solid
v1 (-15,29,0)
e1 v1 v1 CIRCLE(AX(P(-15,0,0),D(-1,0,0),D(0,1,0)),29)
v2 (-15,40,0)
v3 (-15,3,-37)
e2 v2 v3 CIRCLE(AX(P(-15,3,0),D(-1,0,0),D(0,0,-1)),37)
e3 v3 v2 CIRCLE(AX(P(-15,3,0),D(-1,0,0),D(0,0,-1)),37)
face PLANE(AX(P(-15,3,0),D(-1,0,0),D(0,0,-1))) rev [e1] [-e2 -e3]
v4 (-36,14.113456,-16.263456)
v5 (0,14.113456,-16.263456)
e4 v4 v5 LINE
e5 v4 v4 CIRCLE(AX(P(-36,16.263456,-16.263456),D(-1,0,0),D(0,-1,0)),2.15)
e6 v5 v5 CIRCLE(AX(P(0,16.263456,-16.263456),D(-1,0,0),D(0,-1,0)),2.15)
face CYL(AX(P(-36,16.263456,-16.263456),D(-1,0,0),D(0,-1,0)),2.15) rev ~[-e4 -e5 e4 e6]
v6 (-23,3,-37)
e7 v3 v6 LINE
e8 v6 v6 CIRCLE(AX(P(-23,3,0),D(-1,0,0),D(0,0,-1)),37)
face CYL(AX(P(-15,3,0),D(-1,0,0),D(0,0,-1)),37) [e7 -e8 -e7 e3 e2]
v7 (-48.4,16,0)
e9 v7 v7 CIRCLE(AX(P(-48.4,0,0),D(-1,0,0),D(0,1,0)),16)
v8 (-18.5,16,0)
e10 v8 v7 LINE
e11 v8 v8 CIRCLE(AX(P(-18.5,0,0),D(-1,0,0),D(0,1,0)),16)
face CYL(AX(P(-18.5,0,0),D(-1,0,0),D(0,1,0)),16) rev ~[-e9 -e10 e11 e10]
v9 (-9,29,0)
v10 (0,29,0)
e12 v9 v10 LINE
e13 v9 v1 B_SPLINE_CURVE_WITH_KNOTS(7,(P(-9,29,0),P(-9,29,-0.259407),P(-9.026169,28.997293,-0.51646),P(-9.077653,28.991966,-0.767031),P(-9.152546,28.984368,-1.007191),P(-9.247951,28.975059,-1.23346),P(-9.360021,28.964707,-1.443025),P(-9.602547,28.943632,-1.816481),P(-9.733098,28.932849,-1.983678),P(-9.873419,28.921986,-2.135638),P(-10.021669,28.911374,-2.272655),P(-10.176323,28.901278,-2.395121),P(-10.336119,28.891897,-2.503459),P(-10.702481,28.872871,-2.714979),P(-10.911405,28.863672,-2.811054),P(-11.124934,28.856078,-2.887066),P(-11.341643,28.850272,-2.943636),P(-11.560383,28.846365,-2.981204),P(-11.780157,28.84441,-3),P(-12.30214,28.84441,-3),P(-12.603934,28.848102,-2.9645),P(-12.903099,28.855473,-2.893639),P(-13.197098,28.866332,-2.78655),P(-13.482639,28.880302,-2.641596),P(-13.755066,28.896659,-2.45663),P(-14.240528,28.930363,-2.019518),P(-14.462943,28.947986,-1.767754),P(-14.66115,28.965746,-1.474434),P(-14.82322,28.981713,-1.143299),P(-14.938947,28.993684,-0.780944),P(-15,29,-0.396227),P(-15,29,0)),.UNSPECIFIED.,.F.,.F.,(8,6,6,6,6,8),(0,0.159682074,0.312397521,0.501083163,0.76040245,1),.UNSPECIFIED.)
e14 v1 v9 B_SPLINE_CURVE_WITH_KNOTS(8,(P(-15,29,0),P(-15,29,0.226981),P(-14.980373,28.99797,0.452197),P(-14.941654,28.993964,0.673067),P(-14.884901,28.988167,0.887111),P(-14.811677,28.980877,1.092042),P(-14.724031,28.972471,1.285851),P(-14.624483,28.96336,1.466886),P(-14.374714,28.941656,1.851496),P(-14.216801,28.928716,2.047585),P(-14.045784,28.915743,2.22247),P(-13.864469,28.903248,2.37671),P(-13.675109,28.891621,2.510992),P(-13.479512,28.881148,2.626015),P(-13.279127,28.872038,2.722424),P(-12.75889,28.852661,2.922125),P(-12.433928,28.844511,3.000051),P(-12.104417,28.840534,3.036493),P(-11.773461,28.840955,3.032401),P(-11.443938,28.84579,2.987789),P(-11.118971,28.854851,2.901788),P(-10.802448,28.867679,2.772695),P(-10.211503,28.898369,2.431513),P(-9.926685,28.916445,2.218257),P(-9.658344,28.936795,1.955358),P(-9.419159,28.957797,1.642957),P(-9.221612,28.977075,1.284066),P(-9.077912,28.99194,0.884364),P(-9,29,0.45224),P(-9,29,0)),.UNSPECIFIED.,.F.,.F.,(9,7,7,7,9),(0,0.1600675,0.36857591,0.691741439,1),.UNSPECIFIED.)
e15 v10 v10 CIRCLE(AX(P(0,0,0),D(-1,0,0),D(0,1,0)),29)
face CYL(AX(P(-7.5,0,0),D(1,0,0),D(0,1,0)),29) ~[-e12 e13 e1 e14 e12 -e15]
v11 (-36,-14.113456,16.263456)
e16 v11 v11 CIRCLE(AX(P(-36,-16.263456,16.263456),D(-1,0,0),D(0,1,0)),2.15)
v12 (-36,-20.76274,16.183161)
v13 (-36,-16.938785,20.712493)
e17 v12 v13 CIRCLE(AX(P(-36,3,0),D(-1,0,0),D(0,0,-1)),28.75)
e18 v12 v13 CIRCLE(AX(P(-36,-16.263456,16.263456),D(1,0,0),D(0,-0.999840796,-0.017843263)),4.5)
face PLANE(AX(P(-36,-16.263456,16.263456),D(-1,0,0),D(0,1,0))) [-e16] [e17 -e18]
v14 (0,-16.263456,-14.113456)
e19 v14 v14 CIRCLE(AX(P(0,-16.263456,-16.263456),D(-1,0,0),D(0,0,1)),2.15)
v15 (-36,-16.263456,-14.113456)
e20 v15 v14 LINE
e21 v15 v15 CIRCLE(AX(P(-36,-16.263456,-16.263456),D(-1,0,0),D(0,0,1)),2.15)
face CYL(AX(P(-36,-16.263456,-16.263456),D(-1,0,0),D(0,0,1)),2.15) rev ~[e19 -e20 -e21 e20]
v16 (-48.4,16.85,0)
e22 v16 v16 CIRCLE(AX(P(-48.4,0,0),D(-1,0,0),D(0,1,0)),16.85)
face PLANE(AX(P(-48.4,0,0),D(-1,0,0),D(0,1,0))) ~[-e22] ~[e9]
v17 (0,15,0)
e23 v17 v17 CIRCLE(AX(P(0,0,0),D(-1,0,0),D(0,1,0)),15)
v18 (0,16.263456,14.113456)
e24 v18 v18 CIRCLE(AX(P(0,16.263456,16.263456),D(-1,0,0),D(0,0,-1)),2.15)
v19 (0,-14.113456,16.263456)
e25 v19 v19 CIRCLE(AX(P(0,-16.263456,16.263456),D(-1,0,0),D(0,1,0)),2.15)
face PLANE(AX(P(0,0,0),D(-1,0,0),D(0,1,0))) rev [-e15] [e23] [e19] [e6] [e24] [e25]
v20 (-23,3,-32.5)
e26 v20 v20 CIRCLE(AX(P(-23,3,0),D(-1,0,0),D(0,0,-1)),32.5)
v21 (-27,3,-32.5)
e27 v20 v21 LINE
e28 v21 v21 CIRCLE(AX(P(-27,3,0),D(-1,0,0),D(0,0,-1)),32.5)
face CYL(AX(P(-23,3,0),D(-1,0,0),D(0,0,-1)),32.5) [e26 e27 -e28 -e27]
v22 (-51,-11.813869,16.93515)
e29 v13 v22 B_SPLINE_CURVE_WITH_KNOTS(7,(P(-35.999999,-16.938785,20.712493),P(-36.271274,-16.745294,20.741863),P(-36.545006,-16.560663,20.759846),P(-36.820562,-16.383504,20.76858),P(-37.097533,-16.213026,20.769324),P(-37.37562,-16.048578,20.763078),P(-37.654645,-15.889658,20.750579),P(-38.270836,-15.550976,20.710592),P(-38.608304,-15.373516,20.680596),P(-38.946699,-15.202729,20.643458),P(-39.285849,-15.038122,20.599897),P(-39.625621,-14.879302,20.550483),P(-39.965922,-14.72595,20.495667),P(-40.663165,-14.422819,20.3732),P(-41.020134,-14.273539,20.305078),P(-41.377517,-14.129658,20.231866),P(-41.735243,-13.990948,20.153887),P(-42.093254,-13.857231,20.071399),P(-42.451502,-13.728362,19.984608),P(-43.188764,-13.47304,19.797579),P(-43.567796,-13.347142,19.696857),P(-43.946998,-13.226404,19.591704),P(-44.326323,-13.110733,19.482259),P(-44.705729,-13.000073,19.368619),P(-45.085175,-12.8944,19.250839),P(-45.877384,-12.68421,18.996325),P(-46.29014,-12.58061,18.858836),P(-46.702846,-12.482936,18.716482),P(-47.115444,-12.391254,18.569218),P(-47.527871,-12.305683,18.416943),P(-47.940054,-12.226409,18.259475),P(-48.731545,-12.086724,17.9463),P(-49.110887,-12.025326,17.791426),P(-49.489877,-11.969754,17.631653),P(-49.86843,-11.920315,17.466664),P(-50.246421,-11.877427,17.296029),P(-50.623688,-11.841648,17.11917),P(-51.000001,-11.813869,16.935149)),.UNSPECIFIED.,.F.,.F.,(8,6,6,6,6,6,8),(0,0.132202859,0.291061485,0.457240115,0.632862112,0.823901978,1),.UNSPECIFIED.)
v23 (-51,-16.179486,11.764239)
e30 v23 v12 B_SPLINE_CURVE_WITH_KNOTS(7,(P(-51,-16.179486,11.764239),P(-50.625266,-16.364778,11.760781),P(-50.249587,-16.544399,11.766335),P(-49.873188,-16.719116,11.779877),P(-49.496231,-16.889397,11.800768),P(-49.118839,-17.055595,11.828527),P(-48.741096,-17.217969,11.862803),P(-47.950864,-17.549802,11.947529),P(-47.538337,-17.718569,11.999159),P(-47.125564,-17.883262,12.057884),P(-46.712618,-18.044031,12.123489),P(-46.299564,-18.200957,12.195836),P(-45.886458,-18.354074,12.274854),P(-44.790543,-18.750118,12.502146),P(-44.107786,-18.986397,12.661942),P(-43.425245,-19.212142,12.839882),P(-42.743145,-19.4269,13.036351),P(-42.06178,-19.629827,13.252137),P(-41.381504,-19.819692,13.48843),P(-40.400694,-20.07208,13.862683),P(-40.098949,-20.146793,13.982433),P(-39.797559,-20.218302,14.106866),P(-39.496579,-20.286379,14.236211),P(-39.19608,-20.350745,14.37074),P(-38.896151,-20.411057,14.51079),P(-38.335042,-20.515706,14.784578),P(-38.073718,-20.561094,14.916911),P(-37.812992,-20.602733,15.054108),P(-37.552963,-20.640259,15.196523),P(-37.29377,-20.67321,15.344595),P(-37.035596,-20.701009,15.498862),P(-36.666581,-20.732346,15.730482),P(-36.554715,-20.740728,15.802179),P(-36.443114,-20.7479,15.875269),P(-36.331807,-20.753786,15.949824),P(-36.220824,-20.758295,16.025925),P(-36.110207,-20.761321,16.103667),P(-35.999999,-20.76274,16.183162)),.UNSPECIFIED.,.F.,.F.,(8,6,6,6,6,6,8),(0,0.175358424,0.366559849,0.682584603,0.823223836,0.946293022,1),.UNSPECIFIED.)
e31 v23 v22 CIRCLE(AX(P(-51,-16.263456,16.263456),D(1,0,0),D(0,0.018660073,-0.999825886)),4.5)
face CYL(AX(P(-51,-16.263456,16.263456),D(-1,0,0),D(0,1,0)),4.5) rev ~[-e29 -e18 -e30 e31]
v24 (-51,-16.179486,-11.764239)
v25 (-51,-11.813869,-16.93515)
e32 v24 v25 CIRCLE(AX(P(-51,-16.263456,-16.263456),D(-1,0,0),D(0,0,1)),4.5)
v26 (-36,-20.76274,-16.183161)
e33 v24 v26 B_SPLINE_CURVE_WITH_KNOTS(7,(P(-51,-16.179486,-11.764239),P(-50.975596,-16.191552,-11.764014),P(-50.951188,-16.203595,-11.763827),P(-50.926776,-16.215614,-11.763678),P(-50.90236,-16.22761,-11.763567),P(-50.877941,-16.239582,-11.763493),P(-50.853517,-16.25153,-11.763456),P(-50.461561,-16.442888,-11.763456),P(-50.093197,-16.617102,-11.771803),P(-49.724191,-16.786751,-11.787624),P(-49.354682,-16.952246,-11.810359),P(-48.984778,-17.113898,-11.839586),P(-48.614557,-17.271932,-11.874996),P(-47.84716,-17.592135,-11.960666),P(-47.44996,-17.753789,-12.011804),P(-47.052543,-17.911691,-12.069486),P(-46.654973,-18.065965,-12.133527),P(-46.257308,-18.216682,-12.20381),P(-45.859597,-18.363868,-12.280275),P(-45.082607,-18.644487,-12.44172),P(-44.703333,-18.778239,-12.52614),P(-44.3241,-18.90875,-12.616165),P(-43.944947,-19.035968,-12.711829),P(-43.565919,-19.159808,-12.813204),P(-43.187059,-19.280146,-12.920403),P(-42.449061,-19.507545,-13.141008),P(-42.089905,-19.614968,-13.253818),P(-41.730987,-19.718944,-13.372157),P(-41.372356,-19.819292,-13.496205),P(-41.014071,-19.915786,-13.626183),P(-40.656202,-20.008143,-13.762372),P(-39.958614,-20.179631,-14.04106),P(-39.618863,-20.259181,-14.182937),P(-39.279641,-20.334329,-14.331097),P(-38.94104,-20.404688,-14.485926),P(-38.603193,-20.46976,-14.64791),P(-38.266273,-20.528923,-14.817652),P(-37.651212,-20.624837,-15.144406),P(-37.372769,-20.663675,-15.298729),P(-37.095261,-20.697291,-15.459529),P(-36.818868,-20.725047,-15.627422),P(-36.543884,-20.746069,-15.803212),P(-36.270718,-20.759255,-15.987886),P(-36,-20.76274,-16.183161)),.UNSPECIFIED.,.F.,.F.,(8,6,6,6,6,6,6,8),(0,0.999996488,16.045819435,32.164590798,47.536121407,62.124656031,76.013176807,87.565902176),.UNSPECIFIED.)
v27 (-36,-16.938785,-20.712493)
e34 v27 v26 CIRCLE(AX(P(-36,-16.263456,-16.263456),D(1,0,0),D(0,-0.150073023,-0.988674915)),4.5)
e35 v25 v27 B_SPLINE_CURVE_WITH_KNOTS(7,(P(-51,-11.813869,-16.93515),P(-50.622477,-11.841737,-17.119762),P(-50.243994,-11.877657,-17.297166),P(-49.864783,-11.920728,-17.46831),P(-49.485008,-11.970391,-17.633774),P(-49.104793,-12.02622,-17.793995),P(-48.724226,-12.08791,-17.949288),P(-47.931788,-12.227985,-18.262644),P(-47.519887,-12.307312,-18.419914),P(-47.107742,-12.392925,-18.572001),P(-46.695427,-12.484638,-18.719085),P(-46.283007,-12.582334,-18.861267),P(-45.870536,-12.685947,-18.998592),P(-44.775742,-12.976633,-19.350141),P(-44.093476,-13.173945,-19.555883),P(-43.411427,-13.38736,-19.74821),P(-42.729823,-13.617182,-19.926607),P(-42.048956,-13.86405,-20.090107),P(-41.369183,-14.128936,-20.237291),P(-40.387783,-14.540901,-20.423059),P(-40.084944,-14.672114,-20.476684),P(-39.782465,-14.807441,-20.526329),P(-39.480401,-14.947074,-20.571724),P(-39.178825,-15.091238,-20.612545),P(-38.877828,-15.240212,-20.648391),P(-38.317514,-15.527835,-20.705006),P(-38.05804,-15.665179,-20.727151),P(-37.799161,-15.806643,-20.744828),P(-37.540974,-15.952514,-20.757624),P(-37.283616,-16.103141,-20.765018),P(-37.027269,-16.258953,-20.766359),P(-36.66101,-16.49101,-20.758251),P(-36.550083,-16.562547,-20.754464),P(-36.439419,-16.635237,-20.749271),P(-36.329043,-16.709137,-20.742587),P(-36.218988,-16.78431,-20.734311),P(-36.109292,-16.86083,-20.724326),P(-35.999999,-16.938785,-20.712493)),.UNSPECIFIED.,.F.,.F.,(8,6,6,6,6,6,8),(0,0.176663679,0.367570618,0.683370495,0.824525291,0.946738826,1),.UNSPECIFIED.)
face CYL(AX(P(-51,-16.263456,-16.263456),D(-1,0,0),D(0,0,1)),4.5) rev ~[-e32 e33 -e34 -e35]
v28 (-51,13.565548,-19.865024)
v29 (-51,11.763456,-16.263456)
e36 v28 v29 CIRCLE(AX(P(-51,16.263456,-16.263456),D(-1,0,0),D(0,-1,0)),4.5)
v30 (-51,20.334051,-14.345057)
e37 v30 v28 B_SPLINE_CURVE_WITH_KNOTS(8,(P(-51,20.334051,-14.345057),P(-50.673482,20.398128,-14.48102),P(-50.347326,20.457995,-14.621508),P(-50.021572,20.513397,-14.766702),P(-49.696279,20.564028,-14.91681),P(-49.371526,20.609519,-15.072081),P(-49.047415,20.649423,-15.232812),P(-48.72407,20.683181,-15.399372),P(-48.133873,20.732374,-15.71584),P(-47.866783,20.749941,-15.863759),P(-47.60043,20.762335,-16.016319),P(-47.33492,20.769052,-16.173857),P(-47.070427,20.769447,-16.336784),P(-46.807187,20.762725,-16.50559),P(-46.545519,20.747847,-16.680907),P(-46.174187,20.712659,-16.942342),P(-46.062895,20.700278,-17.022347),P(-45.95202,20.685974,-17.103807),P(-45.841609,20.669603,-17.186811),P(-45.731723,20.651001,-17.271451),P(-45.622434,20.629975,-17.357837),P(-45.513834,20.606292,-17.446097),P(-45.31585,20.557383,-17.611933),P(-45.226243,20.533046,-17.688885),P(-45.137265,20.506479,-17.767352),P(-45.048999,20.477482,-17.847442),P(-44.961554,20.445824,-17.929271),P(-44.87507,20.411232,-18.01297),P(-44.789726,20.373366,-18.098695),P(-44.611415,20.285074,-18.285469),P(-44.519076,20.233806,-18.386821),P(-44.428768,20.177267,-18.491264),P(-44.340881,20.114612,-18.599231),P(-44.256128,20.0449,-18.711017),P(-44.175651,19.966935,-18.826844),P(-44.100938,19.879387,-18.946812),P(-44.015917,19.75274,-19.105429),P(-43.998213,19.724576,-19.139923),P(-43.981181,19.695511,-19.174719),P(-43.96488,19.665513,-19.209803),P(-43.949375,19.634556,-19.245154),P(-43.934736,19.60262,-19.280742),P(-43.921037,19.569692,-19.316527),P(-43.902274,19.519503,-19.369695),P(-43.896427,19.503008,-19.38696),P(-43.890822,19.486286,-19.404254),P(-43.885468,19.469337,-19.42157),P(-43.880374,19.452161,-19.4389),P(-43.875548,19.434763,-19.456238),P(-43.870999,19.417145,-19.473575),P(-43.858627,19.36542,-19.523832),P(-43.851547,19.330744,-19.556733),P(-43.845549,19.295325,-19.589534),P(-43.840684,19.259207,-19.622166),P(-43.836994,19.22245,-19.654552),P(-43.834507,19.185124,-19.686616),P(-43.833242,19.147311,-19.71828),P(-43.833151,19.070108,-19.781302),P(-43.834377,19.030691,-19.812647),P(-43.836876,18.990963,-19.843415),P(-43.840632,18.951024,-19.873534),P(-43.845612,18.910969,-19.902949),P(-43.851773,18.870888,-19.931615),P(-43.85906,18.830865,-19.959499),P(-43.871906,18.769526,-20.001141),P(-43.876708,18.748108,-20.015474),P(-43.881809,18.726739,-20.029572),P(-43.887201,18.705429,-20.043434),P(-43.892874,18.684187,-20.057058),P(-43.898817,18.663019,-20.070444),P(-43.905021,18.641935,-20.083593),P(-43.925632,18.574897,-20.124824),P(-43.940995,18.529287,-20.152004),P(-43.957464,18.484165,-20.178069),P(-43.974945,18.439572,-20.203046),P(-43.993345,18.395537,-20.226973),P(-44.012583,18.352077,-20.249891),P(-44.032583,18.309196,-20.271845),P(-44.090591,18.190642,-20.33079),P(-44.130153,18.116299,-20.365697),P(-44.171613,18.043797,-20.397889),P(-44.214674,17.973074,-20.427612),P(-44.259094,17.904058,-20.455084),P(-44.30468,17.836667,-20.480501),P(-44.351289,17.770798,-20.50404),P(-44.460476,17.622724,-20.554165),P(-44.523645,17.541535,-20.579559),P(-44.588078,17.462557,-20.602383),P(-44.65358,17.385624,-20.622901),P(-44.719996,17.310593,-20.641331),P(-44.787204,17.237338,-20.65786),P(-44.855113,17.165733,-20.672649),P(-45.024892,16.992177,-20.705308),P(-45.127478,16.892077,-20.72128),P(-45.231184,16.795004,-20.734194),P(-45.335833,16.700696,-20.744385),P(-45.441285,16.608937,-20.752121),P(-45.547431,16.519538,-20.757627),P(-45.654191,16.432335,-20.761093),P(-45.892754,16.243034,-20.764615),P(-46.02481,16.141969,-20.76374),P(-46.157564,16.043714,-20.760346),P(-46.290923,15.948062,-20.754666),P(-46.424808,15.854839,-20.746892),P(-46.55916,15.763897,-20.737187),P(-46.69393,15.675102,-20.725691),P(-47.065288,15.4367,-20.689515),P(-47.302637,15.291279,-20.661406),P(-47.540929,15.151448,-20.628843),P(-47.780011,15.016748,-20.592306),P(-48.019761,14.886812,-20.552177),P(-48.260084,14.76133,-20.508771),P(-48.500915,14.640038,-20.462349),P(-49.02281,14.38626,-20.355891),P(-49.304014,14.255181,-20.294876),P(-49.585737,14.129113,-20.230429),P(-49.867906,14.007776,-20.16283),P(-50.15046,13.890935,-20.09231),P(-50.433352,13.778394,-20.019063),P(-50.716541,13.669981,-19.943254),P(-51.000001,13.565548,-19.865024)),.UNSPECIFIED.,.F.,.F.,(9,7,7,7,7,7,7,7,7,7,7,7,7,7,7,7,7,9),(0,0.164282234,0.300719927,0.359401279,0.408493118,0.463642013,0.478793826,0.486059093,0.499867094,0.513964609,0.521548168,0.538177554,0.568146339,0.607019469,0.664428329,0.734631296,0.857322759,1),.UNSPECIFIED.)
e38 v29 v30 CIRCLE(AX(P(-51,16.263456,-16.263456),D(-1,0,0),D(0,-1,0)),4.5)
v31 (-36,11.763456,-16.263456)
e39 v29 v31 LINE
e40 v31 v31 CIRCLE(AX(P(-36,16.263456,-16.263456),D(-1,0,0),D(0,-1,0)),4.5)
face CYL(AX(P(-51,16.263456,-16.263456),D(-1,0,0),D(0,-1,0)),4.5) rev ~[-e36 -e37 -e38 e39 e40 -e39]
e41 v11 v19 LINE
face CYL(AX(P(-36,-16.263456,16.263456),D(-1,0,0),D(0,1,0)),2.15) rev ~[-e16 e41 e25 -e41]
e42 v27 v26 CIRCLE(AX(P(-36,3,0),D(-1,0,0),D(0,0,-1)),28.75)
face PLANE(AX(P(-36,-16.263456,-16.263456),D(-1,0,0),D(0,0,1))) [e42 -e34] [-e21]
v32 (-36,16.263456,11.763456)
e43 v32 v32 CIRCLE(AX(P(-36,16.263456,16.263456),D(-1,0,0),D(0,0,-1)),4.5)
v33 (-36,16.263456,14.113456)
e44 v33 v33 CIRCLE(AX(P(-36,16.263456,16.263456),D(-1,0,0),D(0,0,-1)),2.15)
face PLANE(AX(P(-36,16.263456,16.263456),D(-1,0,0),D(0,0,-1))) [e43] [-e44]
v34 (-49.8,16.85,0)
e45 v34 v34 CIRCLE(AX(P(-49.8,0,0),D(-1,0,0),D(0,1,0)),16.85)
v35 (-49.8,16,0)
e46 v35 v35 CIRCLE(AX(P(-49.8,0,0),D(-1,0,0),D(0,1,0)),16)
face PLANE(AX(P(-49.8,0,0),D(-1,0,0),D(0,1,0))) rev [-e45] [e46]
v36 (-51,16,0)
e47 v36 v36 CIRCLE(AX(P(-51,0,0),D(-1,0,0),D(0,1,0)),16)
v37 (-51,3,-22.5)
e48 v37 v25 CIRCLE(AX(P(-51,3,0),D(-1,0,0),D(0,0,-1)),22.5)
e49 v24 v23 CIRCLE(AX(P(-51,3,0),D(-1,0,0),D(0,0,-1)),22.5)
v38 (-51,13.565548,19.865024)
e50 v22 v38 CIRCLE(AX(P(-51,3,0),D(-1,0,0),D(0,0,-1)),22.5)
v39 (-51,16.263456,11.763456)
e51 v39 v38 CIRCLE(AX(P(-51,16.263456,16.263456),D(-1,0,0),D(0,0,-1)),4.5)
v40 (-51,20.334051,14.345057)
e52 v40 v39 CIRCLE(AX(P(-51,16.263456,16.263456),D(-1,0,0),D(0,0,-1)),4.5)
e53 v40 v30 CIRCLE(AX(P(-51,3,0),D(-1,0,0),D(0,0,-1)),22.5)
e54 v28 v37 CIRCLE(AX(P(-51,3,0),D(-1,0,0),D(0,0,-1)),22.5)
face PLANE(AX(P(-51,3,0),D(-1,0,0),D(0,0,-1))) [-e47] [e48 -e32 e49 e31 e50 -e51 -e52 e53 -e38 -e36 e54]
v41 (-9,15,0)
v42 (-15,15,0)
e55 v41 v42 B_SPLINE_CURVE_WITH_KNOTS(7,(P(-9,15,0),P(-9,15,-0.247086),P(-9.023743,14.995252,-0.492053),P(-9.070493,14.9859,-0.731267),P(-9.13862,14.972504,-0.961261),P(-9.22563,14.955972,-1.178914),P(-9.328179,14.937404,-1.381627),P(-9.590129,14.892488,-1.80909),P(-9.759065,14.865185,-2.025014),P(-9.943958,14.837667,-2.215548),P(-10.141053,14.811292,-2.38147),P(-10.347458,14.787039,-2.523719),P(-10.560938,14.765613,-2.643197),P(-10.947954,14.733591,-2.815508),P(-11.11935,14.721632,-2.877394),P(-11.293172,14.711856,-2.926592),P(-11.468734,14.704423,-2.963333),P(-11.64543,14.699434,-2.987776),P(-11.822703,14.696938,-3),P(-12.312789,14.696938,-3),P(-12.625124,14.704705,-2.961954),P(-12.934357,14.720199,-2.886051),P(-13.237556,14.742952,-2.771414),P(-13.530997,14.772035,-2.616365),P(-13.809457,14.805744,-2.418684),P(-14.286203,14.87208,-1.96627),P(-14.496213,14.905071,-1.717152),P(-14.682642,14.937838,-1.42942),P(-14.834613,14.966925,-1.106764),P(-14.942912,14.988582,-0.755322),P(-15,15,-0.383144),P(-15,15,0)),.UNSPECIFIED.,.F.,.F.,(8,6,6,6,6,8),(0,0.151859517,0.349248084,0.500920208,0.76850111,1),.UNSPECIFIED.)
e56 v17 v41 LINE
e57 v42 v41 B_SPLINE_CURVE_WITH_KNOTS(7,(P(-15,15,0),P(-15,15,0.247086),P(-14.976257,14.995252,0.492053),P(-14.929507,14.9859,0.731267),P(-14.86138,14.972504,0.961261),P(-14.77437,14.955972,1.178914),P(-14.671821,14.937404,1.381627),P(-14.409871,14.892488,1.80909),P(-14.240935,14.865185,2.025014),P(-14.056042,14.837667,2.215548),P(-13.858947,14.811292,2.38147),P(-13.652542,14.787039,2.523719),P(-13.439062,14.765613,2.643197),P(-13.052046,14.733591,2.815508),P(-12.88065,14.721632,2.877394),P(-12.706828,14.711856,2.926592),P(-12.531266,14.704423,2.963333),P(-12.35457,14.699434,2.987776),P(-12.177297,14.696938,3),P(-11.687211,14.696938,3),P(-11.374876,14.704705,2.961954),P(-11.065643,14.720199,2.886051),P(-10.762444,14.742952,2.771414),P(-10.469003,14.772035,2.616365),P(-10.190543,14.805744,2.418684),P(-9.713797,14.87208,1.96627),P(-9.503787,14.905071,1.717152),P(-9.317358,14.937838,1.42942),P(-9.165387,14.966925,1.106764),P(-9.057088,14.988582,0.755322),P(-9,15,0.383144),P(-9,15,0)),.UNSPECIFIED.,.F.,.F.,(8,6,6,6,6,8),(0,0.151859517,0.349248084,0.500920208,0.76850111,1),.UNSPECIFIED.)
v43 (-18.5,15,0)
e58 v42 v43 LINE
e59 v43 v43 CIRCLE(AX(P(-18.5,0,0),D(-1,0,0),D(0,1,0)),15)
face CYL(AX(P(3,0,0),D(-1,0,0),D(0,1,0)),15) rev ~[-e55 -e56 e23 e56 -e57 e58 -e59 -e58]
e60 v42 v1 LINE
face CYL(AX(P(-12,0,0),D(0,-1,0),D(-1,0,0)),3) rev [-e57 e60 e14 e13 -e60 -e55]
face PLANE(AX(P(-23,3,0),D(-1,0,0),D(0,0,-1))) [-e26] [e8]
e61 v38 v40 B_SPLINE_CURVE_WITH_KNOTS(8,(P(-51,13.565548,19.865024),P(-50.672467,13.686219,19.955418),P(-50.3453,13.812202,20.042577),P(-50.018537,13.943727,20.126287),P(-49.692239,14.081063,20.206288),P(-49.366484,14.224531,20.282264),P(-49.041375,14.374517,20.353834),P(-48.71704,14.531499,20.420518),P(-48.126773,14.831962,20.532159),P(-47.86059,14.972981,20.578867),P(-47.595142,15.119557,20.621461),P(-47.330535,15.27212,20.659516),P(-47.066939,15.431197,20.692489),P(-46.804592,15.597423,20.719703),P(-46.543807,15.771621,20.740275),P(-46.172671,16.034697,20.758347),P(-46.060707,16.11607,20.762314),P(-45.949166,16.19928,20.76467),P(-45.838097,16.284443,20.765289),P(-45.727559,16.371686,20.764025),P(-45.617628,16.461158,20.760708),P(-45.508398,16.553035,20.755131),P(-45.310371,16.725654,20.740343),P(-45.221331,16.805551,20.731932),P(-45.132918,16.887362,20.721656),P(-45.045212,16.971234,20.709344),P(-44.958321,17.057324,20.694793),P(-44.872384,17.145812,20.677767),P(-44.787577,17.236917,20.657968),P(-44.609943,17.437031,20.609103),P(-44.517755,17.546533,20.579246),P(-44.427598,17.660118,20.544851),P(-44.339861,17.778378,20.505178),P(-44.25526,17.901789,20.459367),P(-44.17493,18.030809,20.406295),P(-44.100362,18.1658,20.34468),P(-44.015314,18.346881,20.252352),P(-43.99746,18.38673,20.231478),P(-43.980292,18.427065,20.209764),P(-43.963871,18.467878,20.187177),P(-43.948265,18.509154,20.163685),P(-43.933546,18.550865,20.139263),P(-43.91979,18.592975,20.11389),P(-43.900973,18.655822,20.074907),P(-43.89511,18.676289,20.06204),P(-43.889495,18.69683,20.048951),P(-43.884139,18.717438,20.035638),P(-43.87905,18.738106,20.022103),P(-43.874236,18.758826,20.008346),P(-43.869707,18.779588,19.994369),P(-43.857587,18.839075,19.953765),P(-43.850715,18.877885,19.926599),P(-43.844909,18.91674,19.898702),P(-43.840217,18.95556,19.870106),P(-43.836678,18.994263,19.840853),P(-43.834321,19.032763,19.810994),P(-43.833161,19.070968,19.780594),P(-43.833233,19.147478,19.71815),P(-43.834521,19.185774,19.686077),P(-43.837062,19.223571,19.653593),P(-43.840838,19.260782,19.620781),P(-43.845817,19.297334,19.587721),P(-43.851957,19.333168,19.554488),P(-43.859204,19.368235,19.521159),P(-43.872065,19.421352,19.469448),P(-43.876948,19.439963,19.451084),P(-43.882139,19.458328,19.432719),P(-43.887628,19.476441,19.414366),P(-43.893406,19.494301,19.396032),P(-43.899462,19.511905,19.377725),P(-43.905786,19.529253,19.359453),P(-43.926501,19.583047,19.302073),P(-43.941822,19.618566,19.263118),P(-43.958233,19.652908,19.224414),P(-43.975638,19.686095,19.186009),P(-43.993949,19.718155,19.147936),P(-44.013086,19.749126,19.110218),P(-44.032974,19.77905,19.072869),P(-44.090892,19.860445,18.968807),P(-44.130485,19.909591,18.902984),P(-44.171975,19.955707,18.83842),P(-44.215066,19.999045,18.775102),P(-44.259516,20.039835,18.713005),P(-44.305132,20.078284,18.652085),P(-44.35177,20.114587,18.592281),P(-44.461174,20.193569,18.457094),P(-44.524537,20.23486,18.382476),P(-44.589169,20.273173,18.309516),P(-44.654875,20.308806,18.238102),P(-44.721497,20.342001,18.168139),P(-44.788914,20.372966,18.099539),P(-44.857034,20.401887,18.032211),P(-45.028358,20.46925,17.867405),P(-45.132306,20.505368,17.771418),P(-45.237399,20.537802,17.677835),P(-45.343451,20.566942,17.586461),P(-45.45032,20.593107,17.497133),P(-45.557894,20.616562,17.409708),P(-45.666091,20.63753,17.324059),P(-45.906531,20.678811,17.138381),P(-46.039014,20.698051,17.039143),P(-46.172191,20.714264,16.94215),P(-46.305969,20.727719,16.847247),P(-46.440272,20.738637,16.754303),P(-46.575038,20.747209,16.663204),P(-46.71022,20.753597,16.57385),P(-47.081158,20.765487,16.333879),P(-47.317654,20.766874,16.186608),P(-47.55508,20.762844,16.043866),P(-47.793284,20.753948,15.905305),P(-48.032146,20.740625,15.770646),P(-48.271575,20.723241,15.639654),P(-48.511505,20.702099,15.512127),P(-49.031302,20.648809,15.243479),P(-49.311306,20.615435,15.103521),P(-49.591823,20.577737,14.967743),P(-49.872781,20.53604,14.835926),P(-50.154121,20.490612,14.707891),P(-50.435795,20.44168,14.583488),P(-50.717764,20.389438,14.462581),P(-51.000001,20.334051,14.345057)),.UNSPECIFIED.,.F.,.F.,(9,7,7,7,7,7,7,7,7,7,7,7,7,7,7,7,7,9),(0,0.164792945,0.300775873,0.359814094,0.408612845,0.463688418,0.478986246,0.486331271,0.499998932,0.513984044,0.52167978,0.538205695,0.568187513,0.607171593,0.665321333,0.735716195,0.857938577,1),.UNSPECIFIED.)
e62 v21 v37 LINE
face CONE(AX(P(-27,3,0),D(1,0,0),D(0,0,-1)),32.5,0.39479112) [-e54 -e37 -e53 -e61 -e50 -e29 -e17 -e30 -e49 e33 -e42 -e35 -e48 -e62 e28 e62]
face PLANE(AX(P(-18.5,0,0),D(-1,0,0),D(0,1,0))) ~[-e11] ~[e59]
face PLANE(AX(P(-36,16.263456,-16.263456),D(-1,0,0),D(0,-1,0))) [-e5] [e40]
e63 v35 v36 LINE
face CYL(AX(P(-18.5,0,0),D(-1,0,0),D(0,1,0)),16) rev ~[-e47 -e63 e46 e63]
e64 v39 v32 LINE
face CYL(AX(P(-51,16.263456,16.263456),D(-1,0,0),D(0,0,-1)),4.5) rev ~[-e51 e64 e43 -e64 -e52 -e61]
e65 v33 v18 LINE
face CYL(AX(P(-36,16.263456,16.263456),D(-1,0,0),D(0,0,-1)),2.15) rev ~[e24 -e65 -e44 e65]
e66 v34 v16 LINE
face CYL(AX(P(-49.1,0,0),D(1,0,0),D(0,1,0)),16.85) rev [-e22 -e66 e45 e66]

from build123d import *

# Parameters (mm, degrees)
ESQUISSE2_W                  = 15
ESQUISSE2_H                  = 29
ESQUISSE6_R                  = 4.5
ENL_V_MAT_EXTRU_1_DEPTH      = 15
ESQUISSE7_R                  = 2.15
ENL_V_MAT_EXTRU_2_DEPTH      = 66.306967469
R_P_TITION_CIRCULAIRE1_COUNT = 4
ESQUISSE14_W                 = 1.4
ESQUISSE14_H                 = 0.85
ESQUISSE15_R                 = 3
EXTRUSION1_DEPTH             = 75.632432697


with BuildPart() as part:
    # Esquisse2 → Base-Révolution (revolve)
    with BuildSketch(Plane.XY):
        with Locations((-7.5, 14.5)):
            Rectangle(ESQUISSE2_W, ESQUISSE2_H)
    revolve(axis=Axis((10, 0, 0), (-1, 0, 0)))

    # Esquisse4 → Boss.-Révol.1 (revolve)
    with BuildSketch(Plane.XY, mode=Mode.PRIVATE) as boss_r_vol_1_sk:
        Polygon((-15, 3), (-15, 40), (-23, 40), (-23, 35.5), (-27, 35.5), (-51, 25.5), (-51, 3), align=None)
    revolve(boss_r_vol_1_sk.sketch.rotate(Axis((-51, 3, 0), (-1, 0, 0)), 90), axis=Axis((-51, 3, 0), (-1, 0, 0)))

    # Esquisse6 → Enlèv. mat.-Extru.1 (cut)
    with BuildSketch(Plane.ZY.offset(51)):
        with Locations(Location((-16.263455967, 16.263455967, 0), (0, 0, 270))):
            Circle(ESQUISSE6_R)
    enl_v_mat_extru_1 = extrude(amount=-ENL_V_MAT_EXTRU_1_DEPTH, mode=Mode.SUBTRACT)

    # Esquisse7 → Enlèv. mat.-Extru.2 (cut, through all)
    with BuildSketch(Plane.ZY.offset(36)):
        with Locations(Location((-16.263455967, 16.263455967, 0), (0, 0, 270))):
            Circle(ESQUISSE7_R)
    enl_v_mat_extru_2 = extrude(amount=-ENL_V_MAT_EXTRU_2_DEPTH, mode=Mode.SUBTRACT)

    # Répétition circulaire1: Enlèv. mat.-Extru.1, Enlèv. mat.-Extru.2 ×4 about axis
    r_p_tition_circulaire1_axis = Axis((0, 0, 0), (1, 0, 0))
    add([enl_v_mat_extru_1.rotate(r_p_tition_circulaire1_axis, i * 360 / R_P_TITION_CIRCULAIRE1_COUNT) for i in range(1, R_P_TITION_CIRCULAIRE1_COUNT)], mode=Mode.SUBTRACT)
    add([enl_v_mat_extru_2.rotate(r_p_tition_circulaire1_axis, i * 360 / R_P_TITION_CIRCULAIRE1_COUNT) for i in range(1, R_P_TITION_CIRCULAIRE1_COUNT)], mode=Mode.SUBTRACT)

    # Esquisse13 → Enlèvement de matière-Révolution1 (revolve, cut)
    with BuildSketch(Plane.XY):
        Polygon((3, 0), (3, 15), (-18.5, 15), (-18.5, 16), (-51, 16), (-51, 0), align=None)
    revolve(axis=Axis((3, 0, 0), (-1, 0, 0)), mode=Mode.SUBTRACT)

    # Esquisse14 → Enlèvement de matière-Révolution2 (revolve, cut)
    with BuildSketch(Plane.XY):
        with Locations((-49.1, 16.425)):
            Rectangle(ESQUISSE14_W, ESQUISSE14_H)
    revolve(axis=Axis((-44.664297448, 0, 0), (-1, 0, 0)), mode=Mode.SUBTRACT)

    # Esquisse15 → Extrusion1 (cut, through all)
    with BuildSketch(Plane(origin=(0, 0, 0), x_dir=(1, 0, 0), z_dir=(0, 1, 0))):
        with Locations(Location((-12, 0, 0), (0, 0, 180))):
            Circle(ESQUISSE15_R)
    extrude(amount=EXTRUSION1_DEPTH, mode=Mode.SUBTRACT)


solid = part.part
